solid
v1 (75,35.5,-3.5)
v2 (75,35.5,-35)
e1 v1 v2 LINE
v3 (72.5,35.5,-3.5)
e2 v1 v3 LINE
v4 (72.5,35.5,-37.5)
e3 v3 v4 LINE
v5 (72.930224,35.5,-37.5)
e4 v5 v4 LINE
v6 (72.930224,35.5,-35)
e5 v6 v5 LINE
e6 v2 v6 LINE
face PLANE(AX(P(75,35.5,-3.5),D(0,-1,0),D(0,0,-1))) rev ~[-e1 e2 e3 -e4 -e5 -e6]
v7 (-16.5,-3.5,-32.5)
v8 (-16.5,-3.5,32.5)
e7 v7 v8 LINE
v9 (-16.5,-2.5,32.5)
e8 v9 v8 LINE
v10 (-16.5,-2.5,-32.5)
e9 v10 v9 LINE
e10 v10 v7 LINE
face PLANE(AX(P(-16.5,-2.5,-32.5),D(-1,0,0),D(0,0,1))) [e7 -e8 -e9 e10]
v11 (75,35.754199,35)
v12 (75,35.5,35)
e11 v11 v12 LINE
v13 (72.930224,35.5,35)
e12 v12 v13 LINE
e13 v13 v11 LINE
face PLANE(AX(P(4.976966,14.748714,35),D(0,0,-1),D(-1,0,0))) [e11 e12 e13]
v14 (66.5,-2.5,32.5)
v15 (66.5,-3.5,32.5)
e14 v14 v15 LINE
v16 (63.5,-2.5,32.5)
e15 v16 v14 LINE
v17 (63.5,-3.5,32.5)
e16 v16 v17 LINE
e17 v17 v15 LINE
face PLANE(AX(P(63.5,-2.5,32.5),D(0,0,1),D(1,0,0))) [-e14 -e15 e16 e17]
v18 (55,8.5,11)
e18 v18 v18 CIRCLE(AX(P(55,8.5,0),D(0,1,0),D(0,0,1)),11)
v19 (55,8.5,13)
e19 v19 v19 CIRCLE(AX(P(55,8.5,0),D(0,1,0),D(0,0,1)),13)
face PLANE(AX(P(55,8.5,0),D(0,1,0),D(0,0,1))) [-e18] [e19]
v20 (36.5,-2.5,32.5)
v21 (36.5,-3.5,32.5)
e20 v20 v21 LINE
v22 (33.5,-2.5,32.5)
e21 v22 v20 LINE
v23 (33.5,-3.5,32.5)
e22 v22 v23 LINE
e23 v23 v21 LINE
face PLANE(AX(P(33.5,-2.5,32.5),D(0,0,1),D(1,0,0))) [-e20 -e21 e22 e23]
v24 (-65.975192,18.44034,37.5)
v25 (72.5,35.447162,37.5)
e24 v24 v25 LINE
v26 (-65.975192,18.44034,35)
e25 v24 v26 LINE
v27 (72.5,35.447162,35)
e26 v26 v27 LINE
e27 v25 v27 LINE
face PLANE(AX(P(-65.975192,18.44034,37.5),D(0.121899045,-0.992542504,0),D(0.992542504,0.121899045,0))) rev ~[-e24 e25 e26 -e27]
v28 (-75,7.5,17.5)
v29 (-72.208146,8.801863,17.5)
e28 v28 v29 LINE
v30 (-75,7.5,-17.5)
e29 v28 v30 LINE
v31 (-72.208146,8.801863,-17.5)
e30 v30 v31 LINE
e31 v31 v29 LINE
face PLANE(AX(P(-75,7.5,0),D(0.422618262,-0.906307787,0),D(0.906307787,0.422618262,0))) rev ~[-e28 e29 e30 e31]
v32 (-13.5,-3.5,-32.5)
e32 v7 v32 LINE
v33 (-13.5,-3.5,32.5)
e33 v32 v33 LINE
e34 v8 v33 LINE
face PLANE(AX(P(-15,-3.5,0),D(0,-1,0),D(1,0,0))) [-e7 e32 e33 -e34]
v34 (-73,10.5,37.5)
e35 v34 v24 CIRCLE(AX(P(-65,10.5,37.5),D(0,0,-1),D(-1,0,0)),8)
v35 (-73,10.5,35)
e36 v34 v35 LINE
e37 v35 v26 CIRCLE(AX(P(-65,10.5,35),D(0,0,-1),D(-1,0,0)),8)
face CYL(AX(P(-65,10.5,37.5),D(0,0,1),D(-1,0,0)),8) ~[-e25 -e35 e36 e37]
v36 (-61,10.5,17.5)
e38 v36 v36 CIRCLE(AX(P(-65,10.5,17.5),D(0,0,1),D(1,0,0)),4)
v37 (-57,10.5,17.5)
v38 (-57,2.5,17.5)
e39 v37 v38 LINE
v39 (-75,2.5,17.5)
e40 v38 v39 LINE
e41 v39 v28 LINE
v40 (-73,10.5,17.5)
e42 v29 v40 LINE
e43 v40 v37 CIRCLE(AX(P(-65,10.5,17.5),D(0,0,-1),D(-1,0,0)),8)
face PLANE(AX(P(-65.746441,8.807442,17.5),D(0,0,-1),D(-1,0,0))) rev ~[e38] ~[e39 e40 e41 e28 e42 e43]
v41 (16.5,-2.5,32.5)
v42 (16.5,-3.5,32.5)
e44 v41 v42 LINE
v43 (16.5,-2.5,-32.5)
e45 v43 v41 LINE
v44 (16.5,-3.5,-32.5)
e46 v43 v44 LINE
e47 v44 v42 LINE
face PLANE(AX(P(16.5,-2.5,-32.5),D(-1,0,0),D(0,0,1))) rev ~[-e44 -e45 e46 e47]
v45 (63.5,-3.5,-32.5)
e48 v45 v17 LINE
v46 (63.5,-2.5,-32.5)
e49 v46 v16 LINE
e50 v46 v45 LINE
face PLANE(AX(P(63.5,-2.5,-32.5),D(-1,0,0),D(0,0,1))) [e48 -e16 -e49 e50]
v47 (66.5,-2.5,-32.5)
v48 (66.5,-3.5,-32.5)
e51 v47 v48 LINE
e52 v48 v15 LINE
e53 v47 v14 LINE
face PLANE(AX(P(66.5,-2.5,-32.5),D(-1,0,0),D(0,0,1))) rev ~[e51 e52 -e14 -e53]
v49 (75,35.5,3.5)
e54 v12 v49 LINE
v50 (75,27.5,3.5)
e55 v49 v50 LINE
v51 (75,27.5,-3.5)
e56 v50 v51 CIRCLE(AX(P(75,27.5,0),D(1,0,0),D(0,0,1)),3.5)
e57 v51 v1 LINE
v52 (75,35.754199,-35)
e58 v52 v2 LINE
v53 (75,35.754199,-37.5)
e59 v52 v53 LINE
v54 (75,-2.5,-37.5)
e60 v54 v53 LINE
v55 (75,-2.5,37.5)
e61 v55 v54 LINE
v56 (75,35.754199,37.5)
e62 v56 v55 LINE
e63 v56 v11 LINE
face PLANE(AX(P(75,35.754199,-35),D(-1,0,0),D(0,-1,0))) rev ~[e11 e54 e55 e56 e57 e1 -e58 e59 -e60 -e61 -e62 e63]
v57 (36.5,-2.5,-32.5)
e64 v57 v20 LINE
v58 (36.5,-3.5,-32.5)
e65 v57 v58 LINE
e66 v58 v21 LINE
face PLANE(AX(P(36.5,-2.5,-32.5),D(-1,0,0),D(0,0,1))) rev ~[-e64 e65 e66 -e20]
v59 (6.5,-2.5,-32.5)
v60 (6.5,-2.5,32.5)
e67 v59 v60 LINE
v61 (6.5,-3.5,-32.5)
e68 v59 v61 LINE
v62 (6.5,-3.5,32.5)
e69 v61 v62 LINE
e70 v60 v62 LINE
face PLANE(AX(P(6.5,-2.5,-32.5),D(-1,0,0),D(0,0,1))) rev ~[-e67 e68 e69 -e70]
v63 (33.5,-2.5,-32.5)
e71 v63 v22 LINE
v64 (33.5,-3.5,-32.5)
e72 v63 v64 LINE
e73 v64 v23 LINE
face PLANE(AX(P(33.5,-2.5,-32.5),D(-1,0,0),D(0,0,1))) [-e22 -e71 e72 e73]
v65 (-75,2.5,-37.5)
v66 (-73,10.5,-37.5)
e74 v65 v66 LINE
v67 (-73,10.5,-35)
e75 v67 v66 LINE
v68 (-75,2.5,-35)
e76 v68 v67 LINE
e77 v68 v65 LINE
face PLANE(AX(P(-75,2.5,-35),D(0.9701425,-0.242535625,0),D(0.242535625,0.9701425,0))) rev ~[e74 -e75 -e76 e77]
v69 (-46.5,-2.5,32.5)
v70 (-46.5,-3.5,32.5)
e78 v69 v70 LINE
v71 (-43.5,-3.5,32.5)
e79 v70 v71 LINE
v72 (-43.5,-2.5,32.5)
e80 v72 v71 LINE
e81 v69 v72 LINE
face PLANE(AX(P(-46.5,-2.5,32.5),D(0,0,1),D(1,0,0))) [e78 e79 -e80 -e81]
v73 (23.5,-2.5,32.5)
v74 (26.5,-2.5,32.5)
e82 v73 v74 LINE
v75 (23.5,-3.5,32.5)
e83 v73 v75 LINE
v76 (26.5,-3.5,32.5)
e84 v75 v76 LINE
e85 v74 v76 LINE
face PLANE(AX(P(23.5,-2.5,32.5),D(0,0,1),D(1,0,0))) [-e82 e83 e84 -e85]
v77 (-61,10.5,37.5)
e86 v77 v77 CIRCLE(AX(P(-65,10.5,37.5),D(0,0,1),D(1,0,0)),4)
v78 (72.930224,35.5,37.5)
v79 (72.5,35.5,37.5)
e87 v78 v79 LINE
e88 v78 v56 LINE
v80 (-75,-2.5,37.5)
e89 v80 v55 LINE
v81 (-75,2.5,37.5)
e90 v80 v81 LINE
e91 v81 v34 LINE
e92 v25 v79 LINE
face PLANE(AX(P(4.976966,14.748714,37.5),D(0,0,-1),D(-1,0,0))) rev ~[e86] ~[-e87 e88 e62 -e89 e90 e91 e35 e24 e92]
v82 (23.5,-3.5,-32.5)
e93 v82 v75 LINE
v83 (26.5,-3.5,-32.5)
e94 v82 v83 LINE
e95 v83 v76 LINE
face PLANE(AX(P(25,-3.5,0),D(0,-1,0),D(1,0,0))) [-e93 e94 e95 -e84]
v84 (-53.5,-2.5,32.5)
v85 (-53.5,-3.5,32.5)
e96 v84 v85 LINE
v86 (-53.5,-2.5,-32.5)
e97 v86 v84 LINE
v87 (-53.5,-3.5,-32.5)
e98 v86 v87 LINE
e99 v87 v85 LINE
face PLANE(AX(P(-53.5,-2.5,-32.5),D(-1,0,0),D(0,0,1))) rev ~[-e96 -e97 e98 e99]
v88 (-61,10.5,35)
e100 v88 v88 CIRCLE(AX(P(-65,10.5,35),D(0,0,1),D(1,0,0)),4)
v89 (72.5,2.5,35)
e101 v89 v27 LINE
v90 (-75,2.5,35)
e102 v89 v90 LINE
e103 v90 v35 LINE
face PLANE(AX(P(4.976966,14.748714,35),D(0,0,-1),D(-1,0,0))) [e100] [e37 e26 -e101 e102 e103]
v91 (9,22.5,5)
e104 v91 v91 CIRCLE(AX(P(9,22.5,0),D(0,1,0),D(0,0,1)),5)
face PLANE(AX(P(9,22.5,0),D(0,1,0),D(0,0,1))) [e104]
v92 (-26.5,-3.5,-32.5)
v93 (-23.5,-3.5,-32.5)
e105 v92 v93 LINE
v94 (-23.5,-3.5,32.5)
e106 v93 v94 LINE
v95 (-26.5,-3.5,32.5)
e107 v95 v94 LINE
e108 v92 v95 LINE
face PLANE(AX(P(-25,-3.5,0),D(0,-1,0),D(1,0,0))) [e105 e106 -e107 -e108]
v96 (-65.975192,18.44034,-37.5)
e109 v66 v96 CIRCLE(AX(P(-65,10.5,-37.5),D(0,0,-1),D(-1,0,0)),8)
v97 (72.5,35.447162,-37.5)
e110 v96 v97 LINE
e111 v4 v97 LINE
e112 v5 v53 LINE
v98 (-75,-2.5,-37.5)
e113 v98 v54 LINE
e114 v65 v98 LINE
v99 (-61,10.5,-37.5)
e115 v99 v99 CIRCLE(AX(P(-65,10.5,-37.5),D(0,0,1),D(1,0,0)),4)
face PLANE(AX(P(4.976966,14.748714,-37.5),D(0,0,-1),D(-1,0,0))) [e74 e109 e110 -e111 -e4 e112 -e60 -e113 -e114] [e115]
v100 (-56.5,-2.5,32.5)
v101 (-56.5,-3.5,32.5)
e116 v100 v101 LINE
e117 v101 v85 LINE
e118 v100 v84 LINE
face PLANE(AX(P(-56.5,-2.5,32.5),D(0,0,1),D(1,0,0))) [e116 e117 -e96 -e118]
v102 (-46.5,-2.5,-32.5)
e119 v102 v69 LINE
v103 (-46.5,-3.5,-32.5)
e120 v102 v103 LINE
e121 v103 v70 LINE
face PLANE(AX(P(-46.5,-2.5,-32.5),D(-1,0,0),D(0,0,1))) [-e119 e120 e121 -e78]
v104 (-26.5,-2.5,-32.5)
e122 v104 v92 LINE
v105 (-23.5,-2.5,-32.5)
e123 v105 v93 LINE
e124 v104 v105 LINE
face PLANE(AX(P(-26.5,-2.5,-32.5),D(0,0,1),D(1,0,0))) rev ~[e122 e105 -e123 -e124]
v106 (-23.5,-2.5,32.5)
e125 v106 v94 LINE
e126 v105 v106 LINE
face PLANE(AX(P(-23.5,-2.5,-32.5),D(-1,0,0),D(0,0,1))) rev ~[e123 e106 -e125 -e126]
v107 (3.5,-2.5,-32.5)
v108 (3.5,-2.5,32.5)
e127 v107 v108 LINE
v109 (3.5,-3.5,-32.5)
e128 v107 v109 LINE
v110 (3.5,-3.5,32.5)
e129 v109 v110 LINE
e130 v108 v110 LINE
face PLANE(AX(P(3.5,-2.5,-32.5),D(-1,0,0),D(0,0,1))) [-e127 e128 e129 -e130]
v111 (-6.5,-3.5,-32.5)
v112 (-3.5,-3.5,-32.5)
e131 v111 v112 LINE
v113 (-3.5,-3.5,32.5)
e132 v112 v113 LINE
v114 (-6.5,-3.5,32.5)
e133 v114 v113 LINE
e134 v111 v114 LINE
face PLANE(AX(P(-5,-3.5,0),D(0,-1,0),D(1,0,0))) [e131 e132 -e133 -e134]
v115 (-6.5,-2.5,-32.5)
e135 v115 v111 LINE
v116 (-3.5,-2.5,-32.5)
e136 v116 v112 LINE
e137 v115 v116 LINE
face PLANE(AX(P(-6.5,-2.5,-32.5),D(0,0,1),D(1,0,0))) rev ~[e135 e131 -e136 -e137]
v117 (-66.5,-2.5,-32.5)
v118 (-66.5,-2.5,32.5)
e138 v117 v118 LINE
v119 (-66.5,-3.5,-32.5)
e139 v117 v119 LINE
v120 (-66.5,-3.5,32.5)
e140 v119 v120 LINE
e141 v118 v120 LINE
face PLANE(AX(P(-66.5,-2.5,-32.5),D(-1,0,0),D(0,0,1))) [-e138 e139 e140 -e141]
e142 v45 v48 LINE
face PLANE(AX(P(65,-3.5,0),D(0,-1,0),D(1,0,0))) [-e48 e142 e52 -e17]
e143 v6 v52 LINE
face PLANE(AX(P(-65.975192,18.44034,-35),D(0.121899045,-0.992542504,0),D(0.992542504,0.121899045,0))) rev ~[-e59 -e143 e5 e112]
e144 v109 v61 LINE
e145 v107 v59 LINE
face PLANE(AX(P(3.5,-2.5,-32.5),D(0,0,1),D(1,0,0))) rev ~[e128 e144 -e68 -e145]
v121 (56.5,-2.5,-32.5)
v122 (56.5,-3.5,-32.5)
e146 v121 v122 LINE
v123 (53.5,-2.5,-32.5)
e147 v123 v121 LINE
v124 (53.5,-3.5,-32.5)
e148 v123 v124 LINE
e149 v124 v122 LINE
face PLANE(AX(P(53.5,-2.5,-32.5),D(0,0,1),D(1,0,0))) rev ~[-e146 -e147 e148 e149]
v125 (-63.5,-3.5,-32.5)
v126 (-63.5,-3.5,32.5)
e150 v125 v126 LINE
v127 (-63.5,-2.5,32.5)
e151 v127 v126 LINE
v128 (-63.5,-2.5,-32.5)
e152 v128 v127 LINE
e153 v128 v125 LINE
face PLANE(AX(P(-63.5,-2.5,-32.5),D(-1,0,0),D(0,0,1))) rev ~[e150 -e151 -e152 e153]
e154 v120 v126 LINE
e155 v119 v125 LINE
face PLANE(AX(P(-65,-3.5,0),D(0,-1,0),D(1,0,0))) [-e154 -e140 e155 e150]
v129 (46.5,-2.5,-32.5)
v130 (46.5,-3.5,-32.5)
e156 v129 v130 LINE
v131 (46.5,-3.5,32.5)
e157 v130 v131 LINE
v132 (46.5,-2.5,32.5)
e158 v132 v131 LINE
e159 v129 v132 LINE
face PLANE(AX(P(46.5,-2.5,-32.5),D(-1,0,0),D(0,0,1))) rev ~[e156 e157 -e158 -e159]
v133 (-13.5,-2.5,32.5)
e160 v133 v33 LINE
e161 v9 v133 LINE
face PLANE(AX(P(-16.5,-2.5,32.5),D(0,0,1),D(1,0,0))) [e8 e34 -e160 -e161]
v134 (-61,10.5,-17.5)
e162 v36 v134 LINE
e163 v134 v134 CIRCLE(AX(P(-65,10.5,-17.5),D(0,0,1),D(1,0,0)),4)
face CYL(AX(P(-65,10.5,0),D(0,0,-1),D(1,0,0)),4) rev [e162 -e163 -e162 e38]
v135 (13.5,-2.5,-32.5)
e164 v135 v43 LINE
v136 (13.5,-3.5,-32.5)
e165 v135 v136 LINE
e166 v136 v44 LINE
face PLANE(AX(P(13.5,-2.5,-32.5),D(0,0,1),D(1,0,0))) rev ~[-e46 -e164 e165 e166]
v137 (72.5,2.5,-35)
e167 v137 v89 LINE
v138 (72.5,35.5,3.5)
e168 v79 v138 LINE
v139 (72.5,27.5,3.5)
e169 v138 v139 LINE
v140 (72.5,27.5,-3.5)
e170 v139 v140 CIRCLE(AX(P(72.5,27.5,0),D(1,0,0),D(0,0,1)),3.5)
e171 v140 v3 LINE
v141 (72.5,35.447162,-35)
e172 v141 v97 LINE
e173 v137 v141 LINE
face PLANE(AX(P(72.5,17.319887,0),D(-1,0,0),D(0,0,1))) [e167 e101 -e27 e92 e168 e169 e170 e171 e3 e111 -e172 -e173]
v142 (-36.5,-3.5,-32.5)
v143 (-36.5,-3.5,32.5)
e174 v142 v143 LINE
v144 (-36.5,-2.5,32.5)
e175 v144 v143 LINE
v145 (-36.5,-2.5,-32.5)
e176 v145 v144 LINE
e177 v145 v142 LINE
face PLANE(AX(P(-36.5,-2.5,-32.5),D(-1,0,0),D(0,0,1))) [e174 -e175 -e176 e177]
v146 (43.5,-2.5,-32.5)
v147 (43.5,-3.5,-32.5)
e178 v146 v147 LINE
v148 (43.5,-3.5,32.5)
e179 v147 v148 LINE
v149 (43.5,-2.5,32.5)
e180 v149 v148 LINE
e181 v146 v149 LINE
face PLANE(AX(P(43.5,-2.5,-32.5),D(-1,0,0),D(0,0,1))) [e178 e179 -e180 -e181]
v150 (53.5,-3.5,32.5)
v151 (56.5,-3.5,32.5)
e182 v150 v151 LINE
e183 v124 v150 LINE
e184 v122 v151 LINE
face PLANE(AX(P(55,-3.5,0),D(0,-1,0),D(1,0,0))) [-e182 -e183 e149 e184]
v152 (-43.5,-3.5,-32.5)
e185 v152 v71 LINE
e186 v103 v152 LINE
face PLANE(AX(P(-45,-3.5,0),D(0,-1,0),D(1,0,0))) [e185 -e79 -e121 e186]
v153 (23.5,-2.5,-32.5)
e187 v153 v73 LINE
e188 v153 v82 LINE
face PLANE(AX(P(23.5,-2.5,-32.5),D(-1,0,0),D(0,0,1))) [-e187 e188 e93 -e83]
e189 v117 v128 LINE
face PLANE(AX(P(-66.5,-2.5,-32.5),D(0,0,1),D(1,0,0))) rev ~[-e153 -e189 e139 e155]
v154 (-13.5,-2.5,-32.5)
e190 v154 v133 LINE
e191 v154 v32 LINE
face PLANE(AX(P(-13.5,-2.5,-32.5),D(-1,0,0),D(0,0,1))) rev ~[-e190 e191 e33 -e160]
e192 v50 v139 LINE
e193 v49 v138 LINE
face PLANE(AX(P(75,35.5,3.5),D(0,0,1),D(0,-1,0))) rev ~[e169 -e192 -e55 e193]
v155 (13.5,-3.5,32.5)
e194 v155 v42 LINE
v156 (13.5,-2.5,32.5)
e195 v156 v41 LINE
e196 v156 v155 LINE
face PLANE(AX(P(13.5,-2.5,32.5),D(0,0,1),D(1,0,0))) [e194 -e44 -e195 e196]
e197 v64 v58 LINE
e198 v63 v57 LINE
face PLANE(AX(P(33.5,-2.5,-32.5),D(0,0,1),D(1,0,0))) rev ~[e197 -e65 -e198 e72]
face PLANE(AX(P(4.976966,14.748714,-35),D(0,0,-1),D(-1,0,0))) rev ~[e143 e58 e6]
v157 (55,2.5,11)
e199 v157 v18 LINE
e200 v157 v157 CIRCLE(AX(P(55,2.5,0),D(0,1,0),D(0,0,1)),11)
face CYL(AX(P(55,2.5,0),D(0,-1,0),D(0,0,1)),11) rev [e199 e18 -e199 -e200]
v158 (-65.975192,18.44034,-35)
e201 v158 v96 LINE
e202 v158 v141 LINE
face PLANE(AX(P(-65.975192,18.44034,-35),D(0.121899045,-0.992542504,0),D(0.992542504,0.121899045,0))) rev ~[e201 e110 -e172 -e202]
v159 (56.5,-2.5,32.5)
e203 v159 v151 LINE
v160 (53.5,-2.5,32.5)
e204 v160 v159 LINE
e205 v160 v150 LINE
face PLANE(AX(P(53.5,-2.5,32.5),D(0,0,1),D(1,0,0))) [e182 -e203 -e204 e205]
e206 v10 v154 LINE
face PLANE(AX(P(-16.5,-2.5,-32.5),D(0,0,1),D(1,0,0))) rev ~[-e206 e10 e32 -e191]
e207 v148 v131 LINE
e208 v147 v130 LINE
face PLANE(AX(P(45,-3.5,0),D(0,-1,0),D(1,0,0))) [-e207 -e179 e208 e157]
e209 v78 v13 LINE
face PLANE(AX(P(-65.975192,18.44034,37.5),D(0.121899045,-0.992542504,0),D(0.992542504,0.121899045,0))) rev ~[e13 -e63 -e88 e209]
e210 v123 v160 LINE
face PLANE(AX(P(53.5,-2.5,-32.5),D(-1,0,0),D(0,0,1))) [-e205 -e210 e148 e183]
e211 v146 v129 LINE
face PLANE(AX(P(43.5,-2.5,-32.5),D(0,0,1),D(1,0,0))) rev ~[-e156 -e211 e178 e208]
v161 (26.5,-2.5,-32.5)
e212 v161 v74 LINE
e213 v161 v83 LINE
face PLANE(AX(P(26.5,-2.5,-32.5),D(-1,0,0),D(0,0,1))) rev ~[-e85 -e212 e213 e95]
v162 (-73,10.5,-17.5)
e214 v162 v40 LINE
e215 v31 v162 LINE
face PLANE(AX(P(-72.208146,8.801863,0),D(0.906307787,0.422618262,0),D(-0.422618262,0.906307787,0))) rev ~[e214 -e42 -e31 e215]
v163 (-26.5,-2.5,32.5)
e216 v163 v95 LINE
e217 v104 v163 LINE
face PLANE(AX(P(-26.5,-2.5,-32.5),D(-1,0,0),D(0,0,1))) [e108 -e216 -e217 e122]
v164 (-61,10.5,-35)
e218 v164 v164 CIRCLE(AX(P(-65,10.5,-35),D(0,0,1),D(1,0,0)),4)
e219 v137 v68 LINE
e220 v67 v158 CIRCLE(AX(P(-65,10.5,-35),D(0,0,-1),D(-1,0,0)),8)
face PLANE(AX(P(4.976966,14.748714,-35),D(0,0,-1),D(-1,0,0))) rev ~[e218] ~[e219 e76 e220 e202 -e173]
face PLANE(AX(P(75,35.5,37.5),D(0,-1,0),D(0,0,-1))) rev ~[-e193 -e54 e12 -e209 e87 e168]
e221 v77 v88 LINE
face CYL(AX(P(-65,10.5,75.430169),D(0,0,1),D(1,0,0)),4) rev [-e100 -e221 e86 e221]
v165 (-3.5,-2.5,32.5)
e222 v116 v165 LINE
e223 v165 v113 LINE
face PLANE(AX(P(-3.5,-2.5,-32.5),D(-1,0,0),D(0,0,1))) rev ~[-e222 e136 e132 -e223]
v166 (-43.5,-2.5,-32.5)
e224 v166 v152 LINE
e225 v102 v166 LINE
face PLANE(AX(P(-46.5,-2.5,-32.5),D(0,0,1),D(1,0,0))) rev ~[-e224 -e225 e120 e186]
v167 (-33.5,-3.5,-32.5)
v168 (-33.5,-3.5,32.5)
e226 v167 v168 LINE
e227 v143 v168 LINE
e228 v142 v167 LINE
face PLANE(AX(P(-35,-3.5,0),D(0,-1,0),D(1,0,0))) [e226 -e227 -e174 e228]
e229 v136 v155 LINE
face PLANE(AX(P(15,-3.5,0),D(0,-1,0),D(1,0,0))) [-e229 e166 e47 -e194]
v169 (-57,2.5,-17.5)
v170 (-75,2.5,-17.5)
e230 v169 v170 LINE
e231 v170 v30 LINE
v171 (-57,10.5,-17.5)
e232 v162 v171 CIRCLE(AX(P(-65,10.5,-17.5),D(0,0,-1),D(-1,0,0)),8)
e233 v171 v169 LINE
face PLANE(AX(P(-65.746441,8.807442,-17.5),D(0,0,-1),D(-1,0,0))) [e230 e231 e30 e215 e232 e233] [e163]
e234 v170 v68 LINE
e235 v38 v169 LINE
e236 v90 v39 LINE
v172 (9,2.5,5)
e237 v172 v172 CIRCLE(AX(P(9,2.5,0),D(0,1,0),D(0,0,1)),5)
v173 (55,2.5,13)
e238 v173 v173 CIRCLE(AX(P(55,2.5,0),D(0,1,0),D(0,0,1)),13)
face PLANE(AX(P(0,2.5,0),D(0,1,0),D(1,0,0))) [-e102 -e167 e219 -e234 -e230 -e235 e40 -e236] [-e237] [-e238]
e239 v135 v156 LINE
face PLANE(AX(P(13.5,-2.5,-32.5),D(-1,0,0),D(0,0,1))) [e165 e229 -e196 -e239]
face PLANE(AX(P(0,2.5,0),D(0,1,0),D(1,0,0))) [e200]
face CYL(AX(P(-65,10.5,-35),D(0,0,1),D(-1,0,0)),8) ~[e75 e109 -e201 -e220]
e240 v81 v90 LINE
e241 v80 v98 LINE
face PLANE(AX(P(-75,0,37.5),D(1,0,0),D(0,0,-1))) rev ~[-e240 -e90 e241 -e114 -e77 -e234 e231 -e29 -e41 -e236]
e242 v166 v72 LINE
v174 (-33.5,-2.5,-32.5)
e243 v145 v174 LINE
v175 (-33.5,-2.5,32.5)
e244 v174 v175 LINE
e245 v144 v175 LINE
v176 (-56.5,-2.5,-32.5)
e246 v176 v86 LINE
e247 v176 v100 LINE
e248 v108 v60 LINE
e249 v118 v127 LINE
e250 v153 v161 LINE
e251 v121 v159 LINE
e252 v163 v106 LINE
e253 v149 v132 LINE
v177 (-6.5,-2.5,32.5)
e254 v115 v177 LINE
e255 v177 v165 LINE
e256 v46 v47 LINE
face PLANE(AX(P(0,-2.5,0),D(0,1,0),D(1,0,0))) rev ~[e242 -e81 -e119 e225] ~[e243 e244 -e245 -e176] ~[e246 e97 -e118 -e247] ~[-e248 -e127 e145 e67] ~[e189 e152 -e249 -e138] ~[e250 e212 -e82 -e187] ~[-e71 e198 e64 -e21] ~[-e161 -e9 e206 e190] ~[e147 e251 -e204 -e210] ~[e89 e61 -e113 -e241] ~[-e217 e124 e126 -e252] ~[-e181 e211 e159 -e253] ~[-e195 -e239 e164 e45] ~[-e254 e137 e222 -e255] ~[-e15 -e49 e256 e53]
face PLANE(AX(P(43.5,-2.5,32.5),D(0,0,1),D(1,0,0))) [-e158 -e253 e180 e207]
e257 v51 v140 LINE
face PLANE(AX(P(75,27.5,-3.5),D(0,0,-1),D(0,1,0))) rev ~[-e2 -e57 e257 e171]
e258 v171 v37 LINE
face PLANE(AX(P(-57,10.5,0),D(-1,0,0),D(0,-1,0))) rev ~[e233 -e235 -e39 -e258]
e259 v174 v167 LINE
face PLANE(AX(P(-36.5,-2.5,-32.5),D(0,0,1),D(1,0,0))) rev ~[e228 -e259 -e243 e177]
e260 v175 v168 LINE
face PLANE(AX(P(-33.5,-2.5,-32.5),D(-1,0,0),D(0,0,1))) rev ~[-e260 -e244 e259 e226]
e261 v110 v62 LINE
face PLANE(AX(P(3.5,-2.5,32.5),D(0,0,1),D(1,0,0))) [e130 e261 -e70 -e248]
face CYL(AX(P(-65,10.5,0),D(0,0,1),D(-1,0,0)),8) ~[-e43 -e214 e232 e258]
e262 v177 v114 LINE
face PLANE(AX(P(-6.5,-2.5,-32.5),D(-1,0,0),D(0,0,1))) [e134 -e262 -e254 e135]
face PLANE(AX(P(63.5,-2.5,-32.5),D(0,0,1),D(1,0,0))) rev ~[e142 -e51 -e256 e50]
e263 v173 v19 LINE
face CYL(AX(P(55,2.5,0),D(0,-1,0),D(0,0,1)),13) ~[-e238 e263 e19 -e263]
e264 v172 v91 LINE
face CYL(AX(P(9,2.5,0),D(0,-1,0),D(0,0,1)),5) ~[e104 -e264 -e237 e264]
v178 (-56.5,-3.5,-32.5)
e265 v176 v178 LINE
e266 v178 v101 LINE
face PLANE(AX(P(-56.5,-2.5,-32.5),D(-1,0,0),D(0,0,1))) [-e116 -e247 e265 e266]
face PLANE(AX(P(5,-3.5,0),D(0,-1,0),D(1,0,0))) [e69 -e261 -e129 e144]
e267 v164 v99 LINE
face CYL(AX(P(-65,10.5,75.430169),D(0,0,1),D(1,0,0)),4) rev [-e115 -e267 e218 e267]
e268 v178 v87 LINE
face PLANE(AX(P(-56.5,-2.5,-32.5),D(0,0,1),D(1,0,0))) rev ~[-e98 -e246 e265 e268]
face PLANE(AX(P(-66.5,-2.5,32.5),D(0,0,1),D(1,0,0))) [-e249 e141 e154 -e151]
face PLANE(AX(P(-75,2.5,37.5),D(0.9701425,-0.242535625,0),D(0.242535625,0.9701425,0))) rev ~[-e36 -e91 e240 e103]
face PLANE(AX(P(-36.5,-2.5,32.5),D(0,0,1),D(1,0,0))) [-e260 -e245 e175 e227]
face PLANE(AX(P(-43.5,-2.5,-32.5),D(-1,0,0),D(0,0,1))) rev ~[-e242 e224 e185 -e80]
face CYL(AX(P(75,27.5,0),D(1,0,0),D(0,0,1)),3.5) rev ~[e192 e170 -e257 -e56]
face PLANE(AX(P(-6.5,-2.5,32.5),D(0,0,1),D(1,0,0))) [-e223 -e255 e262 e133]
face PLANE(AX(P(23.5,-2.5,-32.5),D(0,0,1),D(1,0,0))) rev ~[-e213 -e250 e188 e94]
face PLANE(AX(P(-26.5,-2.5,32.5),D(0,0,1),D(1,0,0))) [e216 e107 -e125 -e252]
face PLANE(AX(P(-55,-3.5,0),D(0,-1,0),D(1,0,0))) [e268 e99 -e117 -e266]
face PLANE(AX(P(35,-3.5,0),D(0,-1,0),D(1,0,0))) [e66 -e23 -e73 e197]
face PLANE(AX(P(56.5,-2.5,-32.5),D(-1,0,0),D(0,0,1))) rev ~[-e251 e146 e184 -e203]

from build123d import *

# Parameters (mm, degrees)
SKETCH2_W               = 150
SKETCH2_H               = 75
BOSS_EXTRUDE1_DEPTH     = 2.5
SKETCH3_R               = 4
BOSS_EXTRUDE2_DEPTH     = 17.5
SKETCH4_R               = 5
BOSS_EXTRUDE3_DEPTH     = 20
SKETCH7_R               = 13
SKETCH7_R_2             = 11
BOSS_EXTRUDE4_DEPTH     = 6
BOSS_EXTRUDE5_START     = 37.5
BOSS_EXTRUDE5_DEPTH     = 2.5
BOSS_EXTRUDE6_START     = -35
BOSS_EXTRUDE6_DEPTH     = 2.5
BOSS_EXTRUDE7_DEPTH     = 2.5
SKETCH11_W              = 3
SKETCH11_H              = 65
BOSS_EXTRUDE8_DEPTH     = 1
CUT_EXTRUDE1_DEPTH      = 112.930169188
CUT_EXTRUDE1_DEPTH_BACK = 112.930169188
SKETCH12_R              = 4


with BuildPart() as part:
    # Sketch2 → Boss-Extrude1 (new, symmetric)
    with BuildSketch(Plane(origin=(0, 0, 0), x_dir=(1, 0, 0), z_dir=(0, 1, 0))):
        Rectangle(SKETCH2_W, SKETCH2_H)
    extrude(amount=BOSS_EXTRUDE1_DEPTH, both=True)

    # Sketch3 → Boss-Extrude2 (add, symmetric)
    with BuildSketch(Plane.XY):
        with BuildLine():
            Line((-57, 10.5), (-57, 2.5))
            Line((-57, 2.5), (-75, 2.5))
            Line((-75, 2.5), (-75, 7.5))
            Line((-75, 7.5), (-72.208145726, 8.801863029))
            Line((-72.208145726, 8.801863029), (-73, 10.5))
            ThreePointArc((-73, 10.5), (-65, 18.5), (-57, 10.5))
        make_face()
        with Locations((-65, 10.5)):
            Circle(SKETCH3_R, mode=Mode.SUBTRACT)
    extrude(amount=BOSS_EXTRUDE2_DEPTH, both=True)

    # Sketch4 → Boss-Extrude3 (add)
    with BuildSketch(Plane(origin=(0, 2.5, 0), x_dir=(1, 0, 0), z_dir=(0, 1, 0))):
        with Locations(Location((9, 0, 0), (0, 0, 270))):
            Circle(SKETCH4_R)
    extrude(amount=BOSS_EXTRUDE3_DEPTH)

    # Sketch7 → Boss-Extrude4 (add)
    with BuildSketch(Plane(origin=(0, 2.5, 0), x_dir=(1, 0, 0), z_dir=(0, 1, 0))):
        with Locations(Location((55, 0, 0), (0, 0, 270))):
            Circle(SKETCH7_R)
        with Locations(Location((55, 0, 0), (0, 0, 270))):
            Circle(SKETCH7_R_2, mode=Mode.SUBTRACT)
    extrude(amount=BOSS_EXTRUDE4_DEPTH)

    # Sketch9 → Boss-Extrude5 (add)
    with BuildSketch(Plane.XY.offset(BOSS_EXTRUDE5_START)):
        with BuildLine():
            Line((75, 35.754199396), (75, 2.5))
            Line((75, 2.5), (-75, 2.5))
            Line((-75, 2.5), (-73, 10.5))
            ThreePointArc((-73, 10.5), (-70.991725081, 15.800870736), (-65.975192361, 18.440340034))
            Line((-65.975192361, 18.440340034), (75, 35.754199396))
        make_face()
    extrude(amount=-BOSS_EXTRUDE5_DEPTH)

    # Sketch9<2> → Boss-Extrude6 (add)
    with BuildSketch(Plane.XY.offset(BOSS_EXTRUDE6_START)):
        with BuildLine():
            Line((75, 35.754199396), (75, 2.5))
            Line((75, 2.5), (-75, 2.5))
            Line((-75, 2.5), (-73, 10.5))
            ThreePointArc((-73, 10.5), (-70.991725081, 15.800870736), (-65.975192361, 18.440340034))
            Line((-65.975192361, 18.440340034), (75, 35.754199396))
        make_face()
    extrude(amount=-BOSS_EXTRUDE6_DEPTH)

    # Sketch10 → Boss-Extrude7 (add)
    with BuildSketch(Plane(origin=(75, 0, 0), x_dir=(0, 0, -1), z_dir=(1, 0, 0))):
        with BuildLine():
            Line((37.5, 35.5), (37.5, -2.5))
            Line((37.5, -2.5), (-37.5, -2.5))
            Line((-37.5, -2.5), (-37.5, 35.5))
            Line((-37.5, 35.5), (-3.5, 35.5))
            Line((-3.5, 35.5), (-3.5, 27.5))
            ThreePointArc((-3.5, 27.5), (0, 24), (3.5, 27.5))
            Line((3.5, 27.5), (3.5, 35.5))
            Line((3.5, 35.5), (37.5, 35.5))
        make_face()
    extrude(amount=-BOSS_EXTRUDE7_DEPTH)

    # Sketch11 → Boss-Extrude8 (add)
    with BuildSketch(Plane.XZ.offset(2.5)):
        with Locations((-45, 0)):
            Rectangle(SKETCH11_W, SKETCH11_H)
        with Locations((-35, 0)):
            Rectangle(SKETCH11_W, SKETCH11_H)
        with Locations((-25, 0)):
            Rectangle(SKETCH11_W, SKETCH11_H)
        with Locations((-15, 0)):
            Rectangle(SKETCH11_W, SKETCH11_H)
        with Locations((-5, 0)):
            Rectangle(SKETCH11_W, SKETCH11_H)
        with Locations((5, 0)):
            Rectangle(SKETCH11_W, SKETCH11_H)
        with Locations((15, 0)):
            Rectangle(SKETCH11_W, SKETCH11_H)
        with Locations((25, 0)):
            Rectangle(SKETCH11_W, SKETCH11_H)
        with Locations((35, 0)):
            Rectangle(SKETCH11_W, SKETCH11_H)
        with Locations((45, 0)):
            Rectangle(SKETCH11_W, SKETCH11_H)
        with Locations((55, 0)):
            Rectangle(SKETCH11_W, SKETCH11_H)
        with Locations((65, 0)):
            Rectangle(SKETCH11_W, SKETCH11_H)
        with Locations((-65, 0)):
            Rectangle(SKETCH11_W, SKETCH11_H)
        with Locations((-55, 0)):
            Rectangle(SKETCH11_W, SKETCH11_H)
    extrude(amount=BOSS_EXTRUDE8_DEPTH)

    # Sketch12 → Cut-Extrude1 (cut, two sides: drawn at the far end of the back side and taken through both)
    with BuildSketch(Plane(origin=(0, 0, -37.5), x_dir=(-1, 0, 0), z_dir=(0, 0, -1)).offset(-CUT_EXTRUDE1_DEPTH_BACK)):
        with Locations(Location((65, 10.5, 0), (0, 0, 180))):
            Circle(SKETCH12_R)
    extrude(amount=CUT_EXTRUDE1_DEPTH + CUT_EXTRUDE1_DEPTH_BACK, mode=Mode.SUBTRACT)


solid = part.part
